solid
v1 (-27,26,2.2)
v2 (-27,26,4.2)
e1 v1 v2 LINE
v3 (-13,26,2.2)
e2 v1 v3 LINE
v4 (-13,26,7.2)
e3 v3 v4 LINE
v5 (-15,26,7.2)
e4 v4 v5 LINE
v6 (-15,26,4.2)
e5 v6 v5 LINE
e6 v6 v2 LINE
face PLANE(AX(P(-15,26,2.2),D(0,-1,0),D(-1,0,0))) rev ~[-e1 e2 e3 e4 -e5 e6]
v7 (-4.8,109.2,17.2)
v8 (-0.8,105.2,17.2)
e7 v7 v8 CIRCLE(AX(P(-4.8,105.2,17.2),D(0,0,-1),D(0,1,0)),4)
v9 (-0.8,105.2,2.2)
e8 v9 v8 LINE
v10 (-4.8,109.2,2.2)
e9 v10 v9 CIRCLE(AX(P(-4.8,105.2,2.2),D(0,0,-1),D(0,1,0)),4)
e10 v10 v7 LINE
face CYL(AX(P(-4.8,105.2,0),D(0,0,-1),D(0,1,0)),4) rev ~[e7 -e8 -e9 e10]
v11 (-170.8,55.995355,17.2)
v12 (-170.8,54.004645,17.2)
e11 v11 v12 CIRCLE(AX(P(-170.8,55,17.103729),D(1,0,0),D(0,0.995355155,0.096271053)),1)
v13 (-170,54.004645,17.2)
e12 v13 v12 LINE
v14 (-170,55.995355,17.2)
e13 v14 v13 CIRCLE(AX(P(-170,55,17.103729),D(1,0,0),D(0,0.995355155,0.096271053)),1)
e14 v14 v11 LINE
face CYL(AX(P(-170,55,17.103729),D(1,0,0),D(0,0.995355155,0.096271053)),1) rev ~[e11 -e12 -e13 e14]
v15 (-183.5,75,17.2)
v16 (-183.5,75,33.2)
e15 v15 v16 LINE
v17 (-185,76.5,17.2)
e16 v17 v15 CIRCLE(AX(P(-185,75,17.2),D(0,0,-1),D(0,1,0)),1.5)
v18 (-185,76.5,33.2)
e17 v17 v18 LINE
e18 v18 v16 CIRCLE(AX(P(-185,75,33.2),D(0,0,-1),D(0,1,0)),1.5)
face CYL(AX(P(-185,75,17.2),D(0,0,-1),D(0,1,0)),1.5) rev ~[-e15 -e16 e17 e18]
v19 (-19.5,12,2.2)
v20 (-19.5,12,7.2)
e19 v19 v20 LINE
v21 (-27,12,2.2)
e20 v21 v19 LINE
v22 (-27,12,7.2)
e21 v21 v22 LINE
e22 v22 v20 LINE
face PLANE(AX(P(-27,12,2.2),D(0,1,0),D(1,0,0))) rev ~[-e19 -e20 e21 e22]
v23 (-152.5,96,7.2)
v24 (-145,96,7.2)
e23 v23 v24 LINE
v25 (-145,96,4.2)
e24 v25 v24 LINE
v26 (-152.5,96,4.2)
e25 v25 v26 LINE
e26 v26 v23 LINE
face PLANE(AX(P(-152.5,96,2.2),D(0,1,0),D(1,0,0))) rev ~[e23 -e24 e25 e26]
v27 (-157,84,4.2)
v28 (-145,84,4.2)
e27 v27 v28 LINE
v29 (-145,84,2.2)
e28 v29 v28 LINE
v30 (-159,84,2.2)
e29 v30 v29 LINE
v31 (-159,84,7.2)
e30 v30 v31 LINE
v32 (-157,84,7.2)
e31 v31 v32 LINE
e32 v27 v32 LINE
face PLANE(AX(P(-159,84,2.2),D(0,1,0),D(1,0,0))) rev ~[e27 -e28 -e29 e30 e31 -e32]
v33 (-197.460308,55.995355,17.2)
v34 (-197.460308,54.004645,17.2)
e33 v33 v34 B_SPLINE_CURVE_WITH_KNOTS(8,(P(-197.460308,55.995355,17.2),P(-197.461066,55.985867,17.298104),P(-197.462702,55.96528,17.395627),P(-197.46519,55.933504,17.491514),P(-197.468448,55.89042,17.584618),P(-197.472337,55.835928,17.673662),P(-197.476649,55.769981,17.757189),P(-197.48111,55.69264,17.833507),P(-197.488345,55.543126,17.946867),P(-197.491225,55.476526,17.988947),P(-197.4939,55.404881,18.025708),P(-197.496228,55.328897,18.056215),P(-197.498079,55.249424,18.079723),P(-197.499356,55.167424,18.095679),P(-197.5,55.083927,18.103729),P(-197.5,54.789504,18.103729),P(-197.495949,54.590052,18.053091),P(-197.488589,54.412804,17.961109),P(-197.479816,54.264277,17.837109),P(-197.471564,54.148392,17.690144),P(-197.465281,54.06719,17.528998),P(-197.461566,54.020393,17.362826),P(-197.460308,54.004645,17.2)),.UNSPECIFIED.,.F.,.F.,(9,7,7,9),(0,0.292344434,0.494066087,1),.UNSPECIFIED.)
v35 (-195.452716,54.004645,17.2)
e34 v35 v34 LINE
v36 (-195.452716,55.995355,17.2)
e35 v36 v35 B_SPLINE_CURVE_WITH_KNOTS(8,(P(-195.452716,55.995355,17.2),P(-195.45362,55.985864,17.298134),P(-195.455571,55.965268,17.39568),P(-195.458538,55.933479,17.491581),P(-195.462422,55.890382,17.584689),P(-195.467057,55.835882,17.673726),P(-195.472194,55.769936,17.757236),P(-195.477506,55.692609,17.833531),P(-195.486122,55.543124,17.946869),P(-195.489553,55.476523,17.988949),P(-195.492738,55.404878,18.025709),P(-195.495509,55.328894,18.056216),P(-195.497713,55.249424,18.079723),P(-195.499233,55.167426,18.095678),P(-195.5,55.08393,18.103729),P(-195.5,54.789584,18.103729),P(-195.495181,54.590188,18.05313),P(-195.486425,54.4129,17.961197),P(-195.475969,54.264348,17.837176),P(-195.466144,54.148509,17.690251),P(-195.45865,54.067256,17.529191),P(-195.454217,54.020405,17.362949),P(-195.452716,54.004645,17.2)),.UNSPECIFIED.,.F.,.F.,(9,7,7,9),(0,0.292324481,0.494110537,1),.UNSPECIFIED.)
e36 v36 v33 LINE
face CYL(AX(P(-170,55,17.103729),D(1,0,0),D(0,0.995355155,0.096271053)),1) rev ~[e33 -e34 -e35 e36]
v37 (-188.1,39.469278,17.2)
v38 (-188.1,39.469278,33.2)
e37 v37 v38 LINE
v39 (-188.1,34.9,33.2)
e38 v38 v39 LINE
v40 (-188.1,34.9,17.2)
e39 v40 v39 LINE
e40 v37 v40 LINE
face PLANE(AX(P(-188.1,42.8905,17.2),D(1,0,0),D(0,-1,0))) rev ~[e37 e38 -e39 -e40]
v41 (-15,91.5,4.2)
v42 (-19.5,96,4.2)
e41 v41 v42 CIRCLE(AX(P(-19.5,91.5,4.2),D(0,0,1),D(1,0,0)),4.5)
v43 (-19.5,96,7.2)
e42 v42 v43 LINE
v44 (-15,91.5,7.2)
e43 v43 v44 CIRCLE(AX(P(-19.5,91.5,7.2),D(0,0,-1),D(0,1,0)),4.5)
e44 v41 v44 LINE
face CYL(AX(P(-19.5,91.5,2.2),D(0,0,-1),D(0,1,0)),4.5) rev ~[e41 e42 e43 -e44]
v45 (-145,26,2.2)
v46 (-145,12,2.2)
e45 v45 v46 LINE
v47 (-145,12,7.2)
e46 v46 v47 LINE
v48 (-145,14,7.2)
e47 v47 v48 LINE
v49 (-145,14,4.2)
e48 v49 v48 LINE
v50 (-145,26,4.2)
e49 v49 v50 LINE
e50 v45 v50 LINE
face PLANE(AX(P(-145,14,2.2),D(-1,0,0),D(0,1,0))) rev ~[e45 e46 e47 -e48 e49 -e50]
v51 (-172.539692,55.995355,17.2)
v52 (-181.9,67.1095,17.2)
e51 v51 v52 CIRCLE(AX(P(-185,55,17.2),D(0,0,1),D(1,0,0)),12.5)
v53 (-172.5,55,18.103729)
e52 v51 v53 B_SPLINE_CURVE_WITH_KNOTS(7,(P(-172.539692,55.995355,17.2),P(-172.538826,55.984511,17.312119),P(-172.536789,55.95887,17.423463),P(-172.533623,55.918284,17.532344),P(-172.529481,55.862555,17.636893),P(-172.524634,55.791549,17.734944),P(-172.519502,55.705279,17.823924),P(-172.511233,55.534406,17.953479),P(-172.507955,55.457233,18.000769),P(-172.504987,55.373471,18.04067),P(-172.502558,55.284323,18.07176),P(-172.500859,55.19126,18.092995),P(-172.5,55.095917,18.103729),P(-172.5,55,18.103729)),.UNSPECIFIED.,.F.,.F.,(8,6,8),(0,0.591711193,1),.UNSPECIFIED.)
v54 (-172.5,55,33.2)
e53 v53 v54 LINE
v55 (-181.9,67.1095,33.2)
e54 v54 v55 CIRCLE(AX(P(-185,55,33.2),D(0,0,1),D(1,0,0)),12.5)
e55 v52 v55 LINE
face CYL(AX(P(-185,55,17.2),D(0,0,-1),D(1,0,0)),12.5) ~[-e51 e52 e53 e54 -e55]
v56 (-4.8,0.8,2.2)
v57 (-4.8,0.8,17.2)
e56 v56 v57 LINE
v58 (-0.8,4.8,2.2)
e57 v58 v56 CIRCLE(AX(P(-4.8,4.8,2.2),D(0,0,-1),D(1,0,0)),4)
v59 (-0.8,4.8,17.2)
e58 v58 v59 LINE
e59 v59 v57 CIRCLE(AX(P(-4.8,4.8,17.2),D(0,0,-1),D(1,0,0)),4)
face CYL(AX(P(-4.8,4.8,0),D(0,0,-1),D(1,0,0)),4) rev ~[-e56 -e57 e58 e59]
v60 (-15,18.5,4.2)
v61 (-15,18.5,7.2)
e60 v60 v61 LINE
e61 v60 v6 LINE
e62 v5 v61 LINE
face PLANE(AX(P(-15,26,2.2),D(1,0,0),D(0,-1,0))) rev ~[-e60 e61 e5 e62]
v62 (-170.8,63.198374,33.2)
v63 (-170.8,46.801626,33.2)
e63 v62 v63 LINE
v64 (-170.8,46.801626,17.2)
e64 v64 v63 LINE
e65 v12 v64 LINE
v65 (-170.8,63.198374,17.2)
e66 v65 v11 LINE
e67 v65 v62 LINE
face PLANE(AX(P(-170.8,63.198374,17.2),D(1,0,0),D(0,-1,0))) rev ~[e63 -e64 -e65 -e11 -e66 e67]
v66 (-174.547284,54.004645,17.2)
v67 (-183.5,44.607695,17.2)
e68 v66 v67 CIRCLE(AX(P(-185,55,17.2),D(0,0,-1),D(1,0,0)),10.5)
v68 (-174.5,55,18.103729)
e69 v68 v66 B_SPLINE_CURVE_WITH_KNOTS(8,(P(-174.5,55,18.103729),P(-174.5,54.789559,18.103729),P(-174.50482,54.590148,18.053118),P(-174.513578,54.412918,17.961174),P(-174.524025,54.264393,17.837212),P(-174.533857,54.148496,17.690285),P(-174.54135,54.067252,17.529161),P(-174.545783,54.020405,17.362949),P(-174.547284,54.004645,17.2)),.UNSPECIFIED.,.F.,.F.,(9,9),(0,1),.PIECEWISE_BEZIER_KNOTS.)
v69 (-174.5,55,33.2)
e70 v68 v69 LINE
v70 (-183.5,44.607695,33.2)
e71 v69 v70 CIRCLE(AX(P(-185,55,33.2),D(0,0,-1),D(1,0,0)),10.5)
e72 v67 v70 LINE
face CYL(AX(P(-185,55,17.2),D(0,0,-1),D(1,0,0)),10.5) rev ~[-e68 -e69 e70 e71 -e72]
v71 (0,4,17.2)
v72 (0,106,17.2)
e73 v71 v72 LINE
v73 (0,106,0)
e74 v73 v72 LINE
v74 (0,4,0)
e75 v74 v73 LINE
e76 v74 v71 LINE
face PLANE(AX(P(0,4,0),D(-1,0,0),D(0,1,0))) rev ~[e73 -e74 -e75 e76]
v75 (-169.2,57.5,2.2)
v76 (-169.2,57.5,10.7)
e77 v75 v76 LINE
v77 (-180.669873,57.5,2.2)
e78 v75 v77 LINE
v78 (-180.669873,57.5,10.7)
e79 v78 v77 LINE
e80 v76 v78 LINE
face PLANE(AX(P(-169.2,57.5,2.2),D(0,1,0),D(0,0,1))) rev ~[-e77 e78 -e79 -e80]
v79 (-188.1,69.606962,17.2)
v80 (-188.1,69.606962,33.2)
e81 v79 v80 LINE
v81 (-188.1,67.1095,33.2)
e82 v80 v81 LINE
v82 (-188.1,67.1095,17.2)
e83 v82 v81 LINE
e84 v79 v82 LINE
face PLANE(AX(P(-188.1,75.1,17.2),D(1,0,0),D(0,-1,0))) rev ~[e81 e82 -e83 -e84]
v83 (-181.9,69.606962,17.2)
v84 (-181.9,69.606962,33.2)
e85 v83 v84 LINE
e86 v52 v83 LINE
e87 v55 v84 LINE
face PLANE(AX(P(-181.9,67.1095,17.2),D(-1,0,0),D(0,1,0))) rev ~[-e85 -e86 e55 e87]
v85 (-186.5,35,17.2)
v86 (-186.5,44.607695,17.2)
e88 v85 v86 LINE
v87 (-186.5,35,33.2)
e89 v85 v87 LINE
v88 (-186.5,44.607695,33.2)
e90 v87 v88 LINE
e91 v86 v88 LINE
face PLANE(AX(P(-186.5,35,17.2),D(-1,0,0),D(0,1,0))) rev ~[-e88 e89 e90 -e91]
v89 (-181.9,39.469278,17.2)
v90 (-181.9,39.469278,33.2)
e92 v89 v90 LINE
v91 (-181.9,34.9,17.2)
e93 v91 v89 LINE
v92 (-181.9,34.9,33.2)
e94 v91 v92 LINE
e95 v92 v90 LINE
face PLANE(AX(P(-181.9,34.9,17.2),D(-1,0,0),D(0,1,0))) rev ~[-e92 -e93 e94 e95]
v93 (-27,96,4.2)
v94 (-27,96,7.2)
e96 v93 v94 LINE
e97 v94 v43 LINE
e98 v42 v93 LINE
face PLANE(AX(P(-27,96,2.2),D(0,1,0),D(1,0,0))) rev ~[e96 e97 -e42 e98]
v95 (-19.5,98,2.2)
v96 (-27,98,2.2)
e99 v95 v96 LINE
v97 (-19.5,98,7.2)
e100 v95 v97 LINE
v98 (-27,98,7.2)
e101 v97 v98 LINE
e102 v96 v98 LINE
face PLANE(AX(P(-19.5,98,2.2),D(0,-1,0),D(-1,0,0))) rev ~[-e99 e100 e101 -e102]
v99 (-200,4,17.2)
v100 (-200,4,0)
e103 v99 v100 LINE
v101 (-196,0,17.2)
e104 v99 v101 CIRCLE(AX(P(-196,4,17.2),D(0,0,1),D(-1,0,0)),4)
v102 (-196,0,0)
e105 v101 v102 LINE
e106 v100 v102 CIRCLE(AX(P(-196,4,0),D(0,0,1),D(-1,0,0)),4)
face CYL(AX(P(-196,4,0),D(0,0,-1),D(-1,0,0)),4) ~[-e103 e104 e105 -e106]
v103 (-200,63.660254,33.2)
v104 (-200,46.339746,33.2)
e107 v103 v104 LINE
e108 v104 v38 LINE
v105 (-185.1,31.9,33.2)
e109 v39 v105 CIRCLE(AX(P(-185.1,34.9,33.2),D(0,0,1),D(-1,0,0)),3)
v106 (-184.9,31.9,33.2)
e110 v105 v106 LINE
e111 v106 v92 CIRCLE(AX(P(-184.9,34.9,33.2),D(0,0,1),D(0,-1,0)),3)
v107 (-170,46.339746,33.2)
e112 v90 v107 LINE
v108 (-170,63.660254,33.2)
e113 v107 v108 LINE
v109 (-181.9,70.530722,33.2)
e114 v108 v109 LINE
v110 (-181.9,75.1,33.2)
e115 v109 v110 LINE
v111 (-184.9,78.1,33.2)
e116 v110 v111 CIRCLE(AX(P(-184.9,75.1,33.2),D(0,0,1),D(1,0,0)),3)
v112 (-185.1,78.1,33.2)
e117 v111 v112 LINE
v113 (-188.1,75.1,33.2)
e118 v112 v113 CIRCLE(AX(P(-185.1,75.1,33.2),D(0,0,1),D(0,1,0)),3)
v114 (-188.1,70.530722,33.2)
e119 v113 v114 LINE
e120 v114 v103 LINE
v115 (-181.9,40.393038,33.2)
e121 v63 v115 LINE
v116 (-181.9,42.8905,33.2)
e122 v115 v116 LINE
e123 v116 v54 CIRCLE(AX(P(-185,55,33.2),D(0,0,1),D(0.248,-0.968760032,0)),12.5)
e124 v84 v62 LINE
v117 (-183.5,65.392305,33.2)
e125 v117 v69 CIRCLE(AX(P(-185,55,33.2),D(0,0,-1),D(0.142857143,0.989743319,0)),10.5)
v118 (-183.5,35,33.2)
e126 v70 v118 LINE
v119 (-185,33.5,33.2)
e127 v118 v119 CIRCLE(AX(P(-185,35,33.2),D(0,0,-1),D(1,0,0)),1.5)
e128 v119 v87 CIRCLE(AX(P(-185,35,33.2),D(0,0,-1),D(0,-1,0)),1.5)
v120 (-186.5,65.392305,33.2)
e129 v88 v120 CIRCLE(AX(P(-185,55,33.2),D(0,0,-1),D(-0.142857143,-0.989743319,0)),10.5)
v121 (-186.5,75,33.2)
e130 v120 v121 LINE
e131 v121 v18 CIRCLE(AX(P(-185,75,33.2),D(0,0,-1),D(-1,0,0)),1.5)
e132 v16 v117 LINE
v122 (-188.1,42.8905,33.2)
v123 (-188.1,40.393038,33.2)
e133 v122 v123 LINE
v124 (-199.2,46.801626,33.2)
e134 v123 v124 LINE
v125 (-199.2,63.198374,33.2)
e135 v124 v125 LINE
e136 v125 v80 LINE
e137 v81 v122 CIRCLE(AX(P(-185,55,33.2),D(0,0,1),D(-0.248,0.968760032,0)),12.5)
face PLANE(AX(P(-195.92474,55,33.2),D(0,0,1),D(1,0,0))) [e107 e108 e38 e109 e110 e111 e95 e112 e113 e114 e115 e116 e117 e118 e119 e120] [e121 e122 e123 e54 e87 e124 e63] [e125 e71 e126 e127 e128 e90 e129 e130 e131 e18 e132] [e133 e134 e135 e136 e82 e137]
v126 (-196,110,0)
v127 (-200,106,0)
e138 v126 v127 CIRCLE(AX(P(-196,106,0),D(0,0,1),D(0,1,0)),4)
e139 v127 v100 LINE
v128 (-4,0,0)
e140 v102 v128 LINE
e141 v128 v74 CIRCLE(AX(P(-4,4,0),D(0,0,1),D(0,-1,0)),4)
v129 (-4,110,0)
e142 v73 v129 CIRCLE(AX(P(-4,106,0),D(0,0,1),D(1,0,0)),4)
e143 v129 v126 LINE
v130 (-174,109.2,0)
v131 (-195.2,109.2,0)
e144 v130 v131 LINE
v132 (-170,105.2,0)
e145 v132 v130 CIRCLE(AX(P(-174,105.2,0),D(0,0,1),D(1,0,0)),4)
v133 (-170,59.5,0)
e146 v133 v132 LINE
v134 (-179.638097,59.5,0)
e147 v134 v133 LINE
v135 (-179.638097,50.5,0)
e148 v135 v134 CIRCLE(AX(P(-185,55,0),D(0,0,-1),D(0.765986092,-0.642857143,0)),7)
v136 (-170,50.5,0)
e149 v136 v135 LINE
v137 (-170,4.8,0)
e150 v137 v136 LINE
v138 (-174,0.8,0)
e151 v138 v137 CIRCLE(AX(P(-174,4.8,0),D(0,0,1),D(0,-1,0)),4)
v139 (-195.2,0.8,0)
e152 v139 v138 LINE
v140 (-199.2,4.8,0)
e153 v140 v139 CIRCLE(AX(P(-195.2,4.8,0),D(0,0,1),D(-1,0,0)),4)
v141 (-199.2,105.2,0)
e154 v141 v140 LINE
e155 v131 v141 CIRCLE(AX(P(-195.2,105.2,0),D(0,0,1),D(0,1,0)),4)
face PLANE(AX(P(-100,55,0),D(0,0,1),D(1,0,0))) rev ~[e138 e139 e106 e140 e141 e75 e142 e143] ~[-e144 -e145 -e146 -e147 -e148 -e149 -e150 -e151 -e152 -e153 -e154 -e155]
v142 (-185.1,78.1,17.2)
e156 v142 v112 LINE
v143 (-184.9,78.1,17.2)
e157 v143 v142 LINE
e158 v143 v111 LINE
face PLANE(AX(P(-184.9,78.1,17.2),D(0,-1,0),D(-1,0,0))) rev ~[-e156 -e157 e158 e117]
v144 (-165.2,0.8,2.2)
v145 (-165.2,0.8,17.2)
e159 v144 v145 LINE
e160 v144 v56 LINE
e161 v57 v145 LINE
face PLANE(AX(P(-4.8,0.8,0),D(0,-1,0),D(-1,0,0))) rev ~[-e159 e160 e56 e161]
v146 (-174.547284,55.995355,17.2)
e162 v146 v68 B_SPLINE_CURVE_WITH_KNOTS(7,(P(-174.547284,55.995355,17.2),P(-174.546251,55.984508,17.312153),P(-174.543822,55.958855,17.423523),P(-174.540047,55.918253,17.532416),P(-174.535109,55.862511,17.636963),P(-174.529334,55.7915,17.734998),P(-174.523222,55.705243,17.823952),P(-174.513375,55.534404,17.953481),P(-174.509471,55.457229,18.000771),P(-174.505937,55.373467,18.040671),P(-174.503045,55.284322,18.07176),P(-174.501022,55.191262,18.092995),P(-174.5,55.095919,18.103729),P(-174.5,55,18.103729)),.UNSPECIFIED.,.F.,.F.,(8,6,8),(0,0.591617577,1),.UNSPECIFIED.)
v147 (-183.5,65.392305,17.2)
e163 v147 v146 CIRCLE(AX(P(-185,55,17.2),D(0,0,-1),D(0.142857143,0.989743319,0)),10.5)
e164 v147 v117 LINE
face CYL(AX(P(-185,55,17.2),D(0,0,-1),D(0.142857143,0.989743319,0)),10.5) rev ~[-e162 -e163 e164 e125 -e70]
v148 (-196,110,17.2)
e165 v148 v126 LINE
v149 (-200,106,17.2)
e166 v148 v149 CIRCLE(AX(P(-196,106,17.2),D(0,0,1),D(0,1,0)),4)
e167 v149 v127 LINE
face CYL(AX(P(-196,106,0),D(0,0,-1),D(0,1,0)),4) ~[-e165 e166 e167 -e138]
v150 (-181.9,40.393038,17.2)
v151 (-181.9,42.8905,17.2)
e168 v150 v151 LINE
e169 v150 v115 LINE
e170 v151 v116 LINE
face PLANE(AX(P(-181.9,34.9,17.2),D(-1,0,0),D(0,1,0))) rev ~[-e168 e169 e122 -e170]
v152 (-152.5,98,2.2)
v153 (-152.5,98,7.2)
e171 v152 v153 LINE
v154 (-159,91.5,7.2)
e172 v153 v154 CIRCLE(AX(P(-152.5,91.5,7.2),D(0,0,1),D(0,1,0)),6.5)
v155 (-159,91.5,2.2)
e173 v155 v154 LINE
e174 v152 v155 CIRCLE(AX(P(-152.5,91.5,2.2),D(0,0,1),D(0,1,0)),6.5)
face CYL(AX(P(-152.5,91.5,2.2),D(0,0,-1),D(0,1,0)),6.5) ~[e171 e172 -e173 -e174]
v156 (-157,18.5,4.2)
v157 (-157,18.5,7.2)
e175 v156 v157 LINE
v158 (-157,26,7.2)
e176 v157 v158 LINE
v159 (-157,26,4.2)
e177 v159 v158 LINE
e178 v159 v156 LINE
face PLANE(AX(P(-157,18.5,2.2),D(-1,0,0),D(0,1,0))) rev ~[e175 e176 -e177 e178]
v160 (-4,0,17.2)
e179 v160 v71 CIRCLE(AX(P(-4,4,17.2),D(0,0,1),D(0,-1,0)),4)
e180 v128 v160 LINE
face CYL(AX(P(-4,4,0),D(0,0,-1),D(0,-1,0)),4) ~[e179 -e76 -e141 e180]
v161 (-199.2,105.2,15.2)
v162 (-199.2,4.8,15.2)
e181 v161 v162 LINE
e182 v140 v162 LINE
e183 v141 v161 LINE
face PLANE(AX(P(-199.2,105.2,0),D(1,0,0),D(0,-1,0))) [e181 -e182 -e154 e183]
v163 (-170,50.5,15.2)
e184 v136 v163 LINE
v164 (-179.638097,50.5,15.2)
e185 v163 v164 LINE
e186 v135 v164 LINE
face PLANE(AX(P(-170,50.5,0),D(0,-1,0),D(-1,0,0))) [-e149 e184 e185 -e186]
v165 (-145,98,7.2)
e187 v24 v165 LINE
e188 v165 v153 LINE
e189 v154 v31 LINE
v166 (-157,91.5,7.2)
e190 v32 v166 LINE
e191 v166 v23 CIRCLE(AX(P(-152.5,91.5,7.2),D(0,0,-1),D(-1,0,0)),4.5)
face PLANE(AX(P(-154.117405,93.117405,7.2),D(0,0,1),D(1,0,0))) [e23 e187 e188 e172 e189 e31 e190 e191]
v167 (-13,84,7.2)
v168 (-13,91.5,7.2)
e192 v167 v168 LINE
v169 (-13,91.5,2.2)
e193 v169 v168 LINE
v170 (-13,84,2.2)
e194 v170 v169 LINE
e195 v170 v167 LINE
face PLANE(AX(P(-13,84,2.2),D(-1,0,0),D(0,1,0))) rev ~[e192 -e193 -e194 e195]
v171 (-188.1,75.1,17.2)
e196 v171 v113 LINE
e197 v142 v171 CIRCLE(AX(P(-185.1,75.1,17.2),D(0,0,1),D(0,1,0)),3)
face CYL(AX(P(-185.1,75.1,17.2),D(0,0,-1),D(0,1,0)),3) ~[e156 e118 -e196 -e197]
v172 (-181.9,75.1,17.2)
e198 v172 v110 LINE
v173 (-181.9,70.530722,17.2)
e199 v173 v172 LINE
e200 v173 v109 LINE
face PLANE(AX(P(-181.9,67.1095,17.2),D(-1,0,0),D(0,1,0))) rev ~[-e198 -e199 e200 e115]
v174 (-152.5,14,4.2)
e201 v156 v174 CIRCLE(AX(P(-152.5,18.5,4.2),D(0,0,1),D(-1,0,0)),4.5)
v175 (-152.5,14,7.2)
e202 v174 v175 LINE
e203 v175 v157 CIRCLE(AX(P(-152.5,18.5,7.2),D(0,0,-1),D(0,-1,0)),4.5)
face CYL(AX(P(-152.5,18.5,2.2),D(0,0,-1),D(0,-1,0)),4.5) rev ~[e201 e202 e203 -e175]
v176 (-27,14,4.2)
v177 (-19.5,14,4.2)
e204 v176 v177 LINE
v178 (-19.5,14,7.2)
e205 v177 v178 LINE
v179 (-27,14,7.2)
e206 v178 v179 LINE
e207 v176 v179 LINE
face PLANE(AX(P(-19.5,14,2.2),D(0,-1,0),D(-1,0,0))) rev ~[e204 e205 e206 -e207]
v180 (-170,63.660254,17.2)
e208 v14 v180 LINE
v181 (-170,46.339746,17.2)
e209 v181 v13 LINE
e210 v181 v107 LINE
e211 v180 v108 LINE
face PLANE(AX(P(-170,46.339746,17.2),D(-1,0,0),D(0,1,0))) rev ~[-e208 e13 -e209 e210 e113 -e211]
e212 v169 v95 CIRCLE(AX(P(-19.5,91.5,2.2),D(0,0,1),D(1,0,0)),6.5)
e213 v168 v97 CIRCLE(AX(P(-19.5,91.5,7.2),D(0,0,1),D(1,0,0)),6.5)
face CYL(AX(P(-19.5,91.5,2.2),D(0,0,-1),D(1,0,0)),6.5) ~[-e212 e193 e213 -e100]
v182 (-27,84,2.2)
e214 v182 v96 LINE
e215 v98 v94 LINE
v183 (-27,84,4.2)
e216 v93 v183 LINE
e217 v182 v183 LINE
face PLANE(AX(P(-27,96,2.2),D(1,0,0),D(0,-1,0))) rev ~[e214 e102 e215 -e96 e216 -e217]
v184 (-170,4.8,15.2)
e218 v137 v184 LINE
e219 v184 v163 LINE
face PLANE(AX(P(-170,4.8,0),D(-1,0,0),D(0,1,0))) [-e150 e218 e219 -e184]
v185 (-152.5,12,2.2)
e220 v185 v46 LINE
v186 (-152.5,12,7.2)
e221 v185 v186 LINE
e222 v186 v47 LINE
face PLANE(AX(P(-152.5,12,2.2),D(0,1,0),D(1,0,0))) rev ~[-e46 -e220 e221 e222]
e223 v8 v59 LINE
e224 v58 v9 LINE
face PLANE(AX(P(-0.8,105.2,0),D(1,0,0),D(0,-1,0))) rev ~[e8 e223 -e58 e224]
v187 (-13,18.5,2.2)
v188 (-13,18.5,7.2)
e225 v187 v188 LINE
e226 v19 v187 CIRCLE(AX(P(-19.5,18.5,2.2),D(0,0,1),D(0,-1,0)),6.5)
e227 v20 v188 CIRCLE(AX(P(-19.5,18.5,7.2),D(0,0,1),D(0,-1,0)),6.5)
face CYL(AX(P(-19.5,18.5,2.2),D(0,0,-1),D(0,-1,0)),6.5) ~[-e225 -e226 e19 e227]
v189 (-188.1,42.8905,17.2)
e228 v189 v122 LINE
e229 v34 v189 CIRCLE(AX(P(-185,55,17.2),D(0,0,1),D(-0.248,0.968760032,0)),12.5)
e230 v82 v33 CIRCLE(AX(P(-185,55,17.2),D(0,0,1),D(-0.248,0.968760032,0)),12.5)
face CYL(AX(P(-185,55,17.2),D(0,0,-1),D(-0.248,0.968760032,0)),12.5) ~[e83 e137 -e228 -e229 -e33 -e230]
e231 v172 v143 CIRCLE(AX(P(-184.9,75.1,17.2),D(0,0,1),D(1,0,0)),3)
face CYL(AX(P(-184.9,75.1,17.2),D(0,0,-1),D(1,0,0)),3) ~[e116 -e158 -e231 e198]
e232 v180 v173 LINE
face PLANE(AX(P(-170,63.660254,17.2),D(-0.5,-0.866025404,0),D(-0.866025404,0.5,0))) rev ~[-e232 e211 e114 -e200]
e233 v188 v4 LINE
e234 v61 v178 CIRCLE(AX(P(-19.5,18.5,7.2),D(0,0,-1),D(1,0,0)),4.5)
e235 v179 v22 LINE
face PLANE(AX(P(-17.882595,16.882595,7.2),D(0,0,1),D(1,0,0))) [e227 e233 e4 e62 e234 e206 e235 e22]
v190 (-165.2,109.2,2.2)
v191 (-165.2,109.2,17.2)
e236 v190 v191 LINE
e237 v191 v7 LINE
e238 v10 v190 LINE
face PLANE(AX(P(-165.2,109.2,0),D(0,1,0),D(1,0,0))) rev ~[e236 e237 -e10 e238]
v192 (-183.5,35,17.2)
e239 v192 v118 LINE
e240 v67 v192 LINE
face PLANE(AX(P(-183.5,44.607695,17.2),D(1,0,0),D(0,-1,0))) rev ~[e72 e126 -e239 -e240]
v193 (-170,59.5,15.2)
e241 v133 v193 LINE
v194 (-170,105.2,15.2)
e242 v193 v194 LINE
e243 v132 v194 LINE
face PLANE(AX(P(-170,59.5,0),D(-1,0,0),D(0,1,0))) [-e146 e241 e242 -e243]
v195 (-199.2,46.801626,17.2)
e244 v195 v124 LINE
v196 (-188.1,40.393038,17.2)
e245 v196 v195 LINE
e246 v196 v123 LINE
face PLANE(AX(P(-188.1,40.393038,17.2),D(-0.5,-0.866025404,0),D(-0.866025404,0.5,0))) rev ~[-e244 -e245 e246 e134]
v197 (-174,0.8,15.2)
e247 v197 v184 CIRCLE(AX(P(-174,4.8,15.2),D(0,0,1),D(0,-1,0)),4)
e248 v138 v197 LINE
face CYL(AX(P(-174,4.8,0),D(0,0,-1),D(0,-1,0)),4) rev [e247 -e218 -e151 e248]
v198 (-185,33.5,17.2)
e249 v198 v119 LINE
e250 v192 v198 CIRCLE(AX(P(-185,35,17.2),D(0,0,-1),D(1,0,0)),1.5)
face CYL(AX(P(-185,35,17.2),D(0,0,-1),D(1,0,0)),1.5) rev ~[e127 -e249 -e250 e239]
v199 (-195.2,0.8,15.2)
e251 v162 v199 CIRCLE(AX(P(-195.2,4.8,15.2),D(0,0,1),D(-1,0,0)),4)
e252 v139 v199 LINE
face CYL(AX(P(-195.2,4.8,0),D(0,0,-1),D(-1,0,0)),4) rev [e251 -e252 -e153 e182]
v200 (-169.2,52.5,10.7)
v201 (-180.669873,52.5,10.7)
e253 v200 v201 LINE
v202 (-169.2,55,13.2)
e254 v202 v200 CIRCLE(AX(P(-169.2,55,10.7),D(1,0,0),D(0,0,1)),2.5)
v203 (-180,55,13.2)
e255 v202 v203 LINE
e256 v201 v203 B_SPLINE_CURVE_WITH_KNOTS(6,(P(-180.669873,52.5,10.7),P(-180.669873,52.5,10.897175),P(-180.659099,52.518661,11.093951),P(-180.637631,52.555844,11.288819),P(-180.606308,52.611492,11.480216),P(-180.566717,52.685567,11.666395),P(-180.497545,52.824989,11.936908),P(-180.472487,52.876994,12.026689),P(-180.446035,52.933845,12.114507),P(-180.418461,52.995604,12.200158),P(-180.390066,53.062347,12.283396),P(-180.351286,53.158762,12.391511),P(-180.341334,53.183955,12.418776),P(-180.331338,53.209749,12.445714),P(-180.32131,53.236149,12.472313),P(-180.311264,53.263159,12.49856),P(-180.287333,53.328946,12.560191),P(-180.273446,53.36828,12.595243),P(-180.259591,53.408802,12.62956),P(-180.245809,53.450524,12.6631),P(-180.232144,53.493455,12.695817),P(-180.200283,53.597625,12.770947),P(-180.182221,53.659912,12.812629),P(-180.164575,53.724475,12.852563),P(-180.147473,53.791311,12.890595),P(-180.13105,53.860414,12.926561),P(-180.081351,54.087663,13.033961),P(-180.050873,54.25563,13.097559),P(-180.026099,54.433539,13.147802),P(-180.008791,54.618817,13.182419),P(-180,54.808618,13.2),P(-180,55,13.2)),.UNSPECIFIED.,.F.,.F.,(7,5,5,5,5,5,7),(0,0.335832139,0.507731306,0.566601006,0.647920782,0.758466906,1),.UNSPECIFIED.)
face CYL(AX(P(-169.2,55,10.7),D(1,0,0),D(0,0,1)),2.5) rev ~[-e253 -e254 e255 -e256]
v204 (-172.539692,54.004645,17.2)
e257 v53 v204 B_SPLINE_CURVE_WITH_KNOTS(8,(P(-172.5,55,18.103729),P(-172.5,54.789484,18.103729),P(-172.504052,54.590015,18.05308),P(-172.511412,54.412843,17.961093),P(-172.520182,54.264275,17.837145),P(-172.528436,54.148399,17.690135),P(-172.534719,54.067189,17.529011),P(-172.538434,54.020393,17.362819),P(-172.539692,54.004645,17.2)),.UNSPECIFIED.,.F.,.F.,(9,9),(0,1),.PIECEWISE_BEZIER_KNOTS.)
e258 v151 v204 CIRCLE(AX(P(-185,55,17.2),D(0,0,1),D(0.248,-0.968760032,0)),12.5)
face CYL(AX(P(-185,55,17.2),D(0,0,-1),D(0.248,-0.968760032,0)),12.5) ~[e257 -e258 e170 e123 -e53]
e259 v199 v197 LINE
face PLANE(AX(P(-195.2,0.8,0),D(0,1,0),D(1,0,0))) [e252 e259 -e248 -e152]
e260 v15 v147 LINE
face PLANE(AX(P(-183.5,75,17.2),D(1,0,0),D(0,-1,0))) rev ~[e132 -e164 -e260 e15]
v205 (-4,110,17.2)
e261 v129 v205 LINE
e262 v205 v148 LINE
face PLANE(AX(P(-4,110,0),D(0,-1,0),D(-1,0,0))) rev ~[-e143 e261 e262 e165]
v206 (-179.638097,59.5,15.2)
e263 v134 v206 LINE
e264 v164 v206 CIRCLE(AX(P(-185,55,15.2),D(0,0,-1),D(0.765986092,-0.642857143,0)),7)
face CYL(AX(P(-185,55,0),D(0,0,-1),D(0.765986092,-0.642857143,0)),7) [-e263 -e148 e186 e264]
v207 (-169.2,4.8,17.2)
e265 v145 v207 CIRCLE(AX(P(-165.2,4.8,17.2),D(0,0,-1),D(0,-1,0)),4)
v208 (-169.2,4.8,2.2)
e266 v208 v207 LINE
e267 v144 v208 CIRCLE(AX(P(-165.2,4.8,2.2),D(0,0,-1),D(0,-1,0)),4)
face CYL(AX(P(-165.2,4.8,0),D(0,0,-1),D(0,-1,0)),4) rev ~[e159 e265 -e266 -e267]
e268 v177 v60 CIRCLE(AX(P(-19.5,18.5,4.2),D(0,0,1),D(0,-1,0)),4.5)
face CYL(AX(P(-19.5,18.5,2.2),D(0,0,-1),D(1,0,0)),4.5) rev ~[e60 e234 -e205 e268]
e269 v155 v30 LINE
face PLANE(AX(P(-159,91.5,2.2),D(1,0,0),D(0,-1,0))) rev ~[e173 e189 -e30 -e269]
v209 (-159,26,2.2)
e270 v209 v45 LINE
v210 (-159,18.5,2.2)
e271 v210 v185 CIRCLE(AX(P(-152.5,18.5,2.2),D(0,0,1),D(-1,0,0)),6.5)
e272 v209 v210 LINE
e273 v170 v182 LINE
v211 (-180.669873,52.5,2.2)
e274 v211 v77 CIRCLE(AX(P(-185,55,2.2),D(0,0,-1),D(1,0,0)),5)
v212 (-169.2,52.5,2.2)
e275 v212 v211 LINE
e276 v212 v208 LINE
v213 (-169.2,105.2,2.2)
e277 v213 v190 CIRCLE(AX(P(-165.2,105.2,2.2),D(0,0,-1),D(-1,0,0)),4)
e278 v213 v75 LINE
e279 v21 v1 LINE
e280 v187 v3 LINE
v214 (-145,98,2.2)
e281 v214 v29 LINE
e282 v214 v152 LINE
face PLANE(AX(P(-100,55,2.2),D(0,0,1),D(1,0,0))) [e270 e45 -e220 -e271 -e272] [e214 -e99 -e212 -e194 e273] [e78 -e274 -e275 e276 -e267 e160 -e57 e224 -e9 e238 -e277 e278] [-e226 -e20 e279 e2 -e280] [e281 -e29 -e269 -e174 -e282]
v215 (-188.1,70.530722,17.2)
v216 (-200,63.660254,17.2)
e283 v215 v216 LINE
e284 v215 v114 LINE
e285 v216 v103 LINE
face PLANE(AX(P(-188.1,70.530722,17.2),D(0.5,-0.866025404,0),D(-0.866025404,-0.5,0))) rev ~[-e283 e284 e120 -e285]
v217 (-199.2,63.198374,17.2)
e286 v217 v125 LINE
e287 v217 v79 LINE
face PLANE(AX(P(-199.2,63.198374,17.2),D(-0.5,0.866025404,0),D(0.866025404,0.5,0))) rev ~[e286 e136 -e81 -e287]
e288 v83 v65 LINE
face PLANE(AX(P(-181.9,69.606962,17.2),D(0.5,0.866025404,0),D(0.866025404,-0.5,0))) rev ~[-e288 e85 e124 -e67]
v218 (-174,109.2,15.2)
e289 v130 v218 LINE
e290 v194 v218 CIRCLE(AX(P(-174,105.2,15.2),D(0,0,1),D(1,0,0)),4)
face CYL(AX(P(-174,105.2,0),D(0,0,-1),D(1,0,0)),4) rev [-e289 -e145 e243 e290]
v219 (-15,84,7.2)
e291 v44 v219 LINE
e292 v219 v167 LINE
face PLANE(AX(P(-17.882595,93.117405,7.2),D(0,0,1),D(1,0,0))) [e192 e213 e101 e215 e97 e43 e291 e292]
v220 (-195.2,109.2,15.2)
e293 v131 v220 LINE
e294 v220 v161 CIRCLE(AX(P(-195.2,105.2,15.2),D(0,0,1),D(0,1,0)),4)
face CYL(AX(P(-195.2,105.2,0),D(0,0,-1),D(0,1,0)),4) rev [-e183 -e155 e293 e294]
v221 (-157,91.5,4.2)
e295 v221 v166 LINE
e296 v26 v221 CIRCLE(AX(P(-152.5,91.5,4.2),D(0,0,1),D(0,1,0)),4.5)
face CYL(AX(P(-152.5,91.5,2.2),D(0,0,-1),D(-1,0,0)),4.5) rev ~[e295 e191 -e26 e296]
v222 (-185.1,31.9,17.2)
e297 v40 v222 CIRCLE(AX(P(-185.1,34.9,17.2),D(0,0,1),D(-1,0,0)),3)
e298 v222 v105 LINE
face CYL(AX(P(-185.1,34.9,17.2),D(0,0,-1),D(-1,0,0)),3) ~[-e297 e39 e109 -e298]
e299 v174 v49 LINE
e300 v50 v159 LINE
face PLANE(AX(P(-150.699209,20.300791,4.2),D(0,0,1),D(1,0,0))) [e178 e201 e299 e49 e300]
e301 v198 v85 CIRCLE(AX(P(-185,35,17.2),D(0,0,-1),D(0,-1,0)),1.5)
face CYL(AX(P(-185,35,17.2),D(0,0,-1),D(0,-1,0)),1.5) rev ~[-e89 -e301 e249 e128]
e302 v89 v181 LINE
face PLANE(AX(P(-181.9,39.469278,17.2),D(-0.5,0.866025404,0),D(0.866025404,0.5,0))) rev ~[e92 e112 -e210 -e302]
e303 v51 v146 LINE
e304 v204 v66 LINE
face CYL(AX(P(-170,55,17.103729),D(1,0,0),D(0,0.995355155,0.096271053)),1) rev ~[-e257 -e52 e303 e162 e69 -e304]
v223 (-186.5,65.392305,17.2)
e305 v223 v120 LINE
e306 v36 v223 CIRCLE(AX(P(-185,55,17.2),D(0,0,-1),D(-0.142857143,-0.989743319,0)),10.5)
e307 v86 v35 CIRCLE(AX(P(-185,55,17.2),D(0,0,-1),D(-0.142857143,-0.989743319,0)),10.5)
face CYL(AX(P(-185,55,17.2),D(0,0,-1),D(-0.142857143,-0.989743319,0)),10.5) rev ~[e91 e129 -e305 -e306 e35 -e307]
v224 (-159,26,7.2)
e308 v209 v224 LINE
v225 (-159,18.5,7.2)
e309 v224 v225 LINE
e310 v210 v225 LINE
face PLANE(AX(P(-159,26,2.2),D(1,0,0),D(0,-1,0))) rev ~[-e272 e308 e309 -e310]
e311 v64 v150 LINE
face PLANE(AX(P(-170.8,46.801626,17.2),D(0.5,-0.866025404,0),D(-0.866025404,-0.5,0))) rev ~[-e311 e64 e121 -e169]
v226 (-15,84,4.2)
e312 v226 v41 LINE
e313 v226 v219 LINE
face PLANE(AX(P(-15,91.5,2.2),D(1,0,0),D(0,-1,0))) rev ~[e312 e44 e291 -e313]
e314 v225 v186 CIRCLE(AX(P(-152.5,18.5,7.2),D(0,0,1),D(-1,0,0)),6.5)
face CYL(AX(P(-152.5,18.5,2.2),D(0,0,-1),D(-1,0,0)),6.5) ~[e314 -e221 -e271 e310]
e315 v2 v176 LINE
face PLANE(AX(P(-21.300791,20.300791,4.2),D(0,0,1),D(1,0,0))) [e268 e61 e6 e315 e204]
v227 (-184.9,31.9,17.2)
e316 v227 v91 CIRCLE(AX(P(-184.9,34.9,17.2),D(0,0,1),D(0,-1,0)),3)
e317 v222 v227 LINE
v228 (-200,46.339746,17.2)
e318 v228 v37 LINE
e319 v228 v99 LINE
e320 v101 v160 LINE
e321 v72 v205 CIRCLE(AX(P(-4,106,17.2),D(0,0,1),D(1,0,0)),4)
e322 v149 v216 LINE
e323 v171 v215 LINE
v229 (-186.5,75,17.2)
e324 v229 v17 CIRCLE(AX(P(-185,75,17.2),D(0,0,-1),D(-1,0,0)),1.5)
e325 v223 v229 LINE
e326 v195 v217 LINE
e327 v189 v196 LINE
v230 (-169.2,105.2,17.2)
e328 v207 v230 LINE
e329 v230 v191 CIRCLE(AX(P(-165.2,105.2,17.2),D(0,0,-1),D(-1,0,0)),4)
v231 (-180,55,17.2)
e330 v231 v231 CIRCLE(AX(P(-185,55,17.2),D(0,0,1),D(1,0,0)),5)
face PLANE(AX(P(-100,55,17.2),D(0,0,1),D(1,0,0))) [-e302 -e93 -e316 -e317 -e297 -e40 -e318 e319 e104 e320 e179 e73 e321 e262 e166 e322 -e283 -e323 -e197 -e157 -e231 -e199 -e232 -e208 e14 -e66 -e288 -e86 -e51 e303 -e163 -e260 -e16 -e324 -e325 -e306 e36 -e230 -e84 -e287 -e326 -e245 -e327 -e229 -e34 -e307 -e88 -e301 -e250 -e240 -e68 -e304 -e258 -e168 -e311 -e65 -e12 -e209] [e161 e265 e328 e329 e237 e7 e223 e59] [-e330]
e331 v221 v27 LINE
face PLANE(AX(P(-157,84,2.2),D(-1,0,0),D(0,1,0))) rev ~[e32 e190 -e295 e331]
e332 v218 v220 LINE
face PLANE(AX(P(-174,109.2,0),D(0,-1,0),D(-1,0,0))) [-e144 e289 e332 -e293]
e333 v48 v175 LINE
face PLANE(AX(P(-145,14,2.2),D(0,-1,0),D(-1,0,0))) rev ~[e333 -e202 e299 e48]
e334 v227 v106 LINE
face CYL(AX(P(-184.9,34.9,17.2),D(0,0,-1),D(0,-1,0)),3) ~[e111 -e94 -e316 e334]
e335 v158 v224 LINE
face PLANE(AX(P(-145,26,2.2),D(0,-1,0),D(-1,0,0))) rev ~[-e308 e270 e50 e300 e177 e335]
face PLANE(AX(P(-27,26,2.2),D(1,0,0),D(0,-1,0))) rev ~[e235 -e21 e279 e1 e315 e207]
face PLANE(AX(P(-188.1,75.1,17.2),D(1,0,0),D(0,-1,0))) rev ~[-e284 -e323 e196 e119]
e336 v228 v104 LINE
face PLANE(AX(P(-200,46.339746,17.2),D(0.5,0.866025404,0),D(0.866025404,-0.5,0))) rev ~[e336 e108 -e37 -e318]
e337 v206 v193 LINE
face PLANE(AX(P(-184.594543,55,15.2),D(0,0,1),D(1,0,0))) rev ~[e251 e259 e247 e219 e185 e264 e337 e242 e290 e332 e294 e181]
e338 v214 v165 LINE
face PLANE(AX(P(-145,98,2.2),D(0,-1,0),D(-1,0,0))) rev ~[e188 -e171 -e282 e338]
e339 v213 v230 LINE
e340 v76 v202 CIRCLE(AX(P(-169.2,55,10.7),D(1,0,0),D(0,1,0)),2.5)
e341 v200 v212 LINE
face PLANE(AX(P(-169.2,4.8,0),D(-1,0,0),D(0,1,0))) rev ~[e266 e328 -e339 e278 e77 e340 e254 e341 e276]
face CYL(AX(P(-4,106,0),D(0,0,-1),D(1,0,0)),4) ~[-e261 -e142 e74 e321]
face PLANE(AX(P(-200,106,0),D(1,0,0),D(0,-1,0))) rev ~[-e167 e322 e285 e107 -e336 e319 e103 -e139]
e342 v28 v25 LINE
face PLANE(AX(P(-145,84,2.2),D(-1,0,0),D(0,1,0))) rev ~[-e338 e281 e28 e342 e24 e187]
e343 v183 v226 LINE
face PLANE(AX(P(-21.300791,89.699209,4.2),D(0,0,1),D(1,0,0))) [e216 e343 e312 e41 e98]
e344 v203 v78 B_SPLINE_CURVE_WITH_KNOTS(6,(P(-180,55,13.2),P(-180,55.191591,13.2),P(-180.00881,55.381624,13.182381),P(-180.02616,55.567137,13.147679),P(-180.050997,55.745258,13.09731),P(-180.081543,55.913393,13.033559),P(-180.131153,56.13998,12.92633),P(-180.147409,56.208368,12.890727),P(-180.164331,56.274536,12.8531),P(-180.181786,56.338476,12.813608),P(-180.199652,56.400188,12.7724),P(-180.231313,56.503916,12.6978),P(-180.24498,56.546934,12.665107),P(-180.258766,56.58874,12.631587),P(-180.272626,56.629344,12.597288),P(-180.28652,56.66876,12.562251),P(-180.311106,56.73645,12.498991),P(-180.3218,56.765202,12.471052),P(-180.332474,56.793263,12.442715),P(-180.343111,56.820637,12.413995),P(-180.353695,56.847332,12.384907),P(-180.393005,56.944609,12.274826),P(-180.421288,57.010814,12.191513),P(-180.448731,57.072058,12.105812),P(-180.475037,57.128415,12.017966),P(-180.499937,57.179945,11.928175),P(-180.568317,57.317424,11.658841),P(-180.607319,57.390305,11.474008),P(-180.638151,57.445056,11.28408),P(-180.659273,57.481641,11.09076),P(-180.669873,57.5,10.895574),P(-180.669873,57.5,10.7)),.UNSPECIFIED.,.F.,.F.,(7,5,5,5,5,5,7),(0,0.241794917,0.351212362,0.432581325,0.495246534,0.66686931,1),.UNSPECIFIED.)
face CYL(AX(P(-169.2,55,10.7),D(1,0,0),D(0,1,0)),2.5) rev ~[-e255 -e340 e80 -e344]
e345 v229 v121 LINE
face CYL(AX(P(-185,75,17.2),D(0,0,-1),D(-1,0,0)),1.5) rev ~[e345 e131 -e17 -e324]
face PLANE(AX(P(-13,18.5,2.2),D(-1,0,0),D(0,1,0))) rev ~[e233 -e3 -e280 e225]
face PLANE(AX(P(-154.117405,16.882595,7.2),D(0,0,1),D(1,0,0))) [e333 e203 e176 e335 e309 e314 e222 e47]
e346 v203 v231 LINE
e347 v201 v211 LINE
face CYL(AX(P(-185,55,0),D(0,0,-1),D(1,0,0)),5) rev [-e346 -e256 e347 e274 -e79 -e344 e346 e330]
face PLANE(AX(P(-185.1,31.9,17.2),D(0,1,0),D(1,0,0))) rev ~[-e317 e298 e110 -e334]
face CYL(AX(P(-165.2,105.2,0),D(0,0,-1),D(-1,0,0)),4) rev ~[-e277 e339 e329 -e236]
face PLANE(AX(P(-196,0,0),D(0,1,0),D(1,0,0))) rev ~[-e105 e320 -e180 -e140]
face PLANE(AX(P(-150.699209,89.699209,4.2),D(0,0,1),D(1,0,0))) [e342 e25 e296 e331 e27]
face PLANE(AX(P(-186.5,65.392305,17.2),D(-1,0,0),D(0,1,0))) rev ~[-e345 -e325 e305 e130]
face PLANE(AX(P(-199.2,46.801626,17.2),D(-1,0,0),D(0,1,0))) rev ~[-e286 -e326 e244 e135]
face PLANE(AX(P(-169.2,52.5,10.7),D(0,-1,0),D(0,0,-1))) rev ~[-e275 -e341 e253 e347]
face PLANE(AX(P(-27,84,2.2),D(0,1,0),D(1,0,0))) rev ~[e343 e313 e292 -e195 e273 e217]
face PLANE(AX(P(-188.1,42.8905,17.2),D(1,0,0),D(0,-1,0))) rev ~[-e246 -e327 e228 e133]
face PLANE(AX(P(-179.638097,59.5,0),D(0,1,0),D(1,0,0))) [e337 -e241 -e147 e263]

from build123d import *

# Parameters (mm, degrees)
F0_R      = 5
F1_DEPTH  = 2.2
F2_DEPTH  = 17.2
F4_DEPTH  = 20
F5_DEPTH  = 15.2
F7_DEPTH  = 16
F9_DEPTH  = 2
F10_DEPTH = 5
F12_DEPTH = 16
F14_DEPTH = 28


with BuildPart() as f1:
    # F0 (on Top) → F1 (new body)
    with BuildSketch(Plane.XY):
        with BuildLine():
            Line((-196, 0), (-4, 0))
            ThreePointArc((-4, 0), (-1.1715728753, 1.1715728753), (0, 4))
            Line((0, 4), (0, 106))
            ThreePointArc((0, 106), (-1.1715728753, 108.8284271247), (-4, 110))
            Line((-4, 110), (-196, 110))
            ThreePointArc((-196, 110), (-198.8284271247, 108.8284271247), (-200, 106))
            Line((-200, 106), (-200, 4))
            ThreePointArc((-200, 4), (-198.8284271247, 1.1715728753), (-196, 0))
        make_face()
        with BuildLine():
            Line((-170, 105.2), (-170, 59.5))
            Line((-170, 59.5), (-170, 50.5))
            Line((-170, 50.5), (-170, 4.8))
            ThreePointArc((-170, 4.8), (-171.1715728753, 1.9715728753), (-174, 0.8))
            Line((-174, 0.8), (-195.2, 0.8))
            ThreePointArc((-195.2, 0.8), (-198.0284271247, 1.9715728753), (-199.2, 4.8))
            Line((-199.2, 4.8), (-199.2, 105.2))
            ThreePointArc((-199.2, 105.2), (-198.0284271247, 108.0284271247), (-195.2, 109.2))
            Line((-195.2, 109.2), (-174, 109.2))
            ThreePointArc((-174, 109.2), (-171.1715728753, 108.0284271247), (-170, 105.2))
        make_face(mode=Mode.SUBTRACT)
        with BuildLine():
            ThreePointArc((-4.8, 109.2), (-1.9715728753, 108.0284271247), (-0.8, 105.2))
            Line((-0.8, 105.2), (-0.8, 4.8))
            ThreePointArc((-0.8, 4.8), (-1.9715728753, 1.9715728753), (-4.8, 0.8))
            Line((-4.8, 0.8), (-165.2, 0.8))
            ThreePointArc((-165.2, 0.8), (-168.0284271247, 1.9715728753), (-169.2, 4.8))
            Line((-169.2, 4.8), (-169.2, 105.2))
            ThreePointArc((-169.2, 105.2), (-168.0284271247, 108.0284271247), (-165.2, 109.2))
            Line((-165.2, 109.2), (-4.8, 109.2))
        make_face(mode=Mode.SUBTRACT)
        with BuildLine():
            Line((-0.8, 4.8), (-0.8, 105.2))
            ThreePointArc((-0.8, 105.2), (-1.9715728753, 108.0284271247), (-4.8, 109.2))
            Line((-4.8, 109.2), (-165.2, 109.2))
            ThreePointArc((-165.2, 109.2), (-168.0284271247, 108.0284271247), (-169.2, 105.2))
            Line((-169.2, 105.2), (-169.2, 4.8))
            ThreePointArc((-169.2, 4.8), (-168.0284271247, 1.9715728753), (-165.2, 0.8))
            Line((-165.2, 0.8), (-4.8, 0.8))
            ThreePointArc((-4.8, 0.8), (-1.9715728753, 1.9715728753), (-0.8, 4.8))
        make_face()
        with BuildLine():
            ThreePointArc((-179.6380973526, 50.5), (-192, 55), (-179.6380973526, 59.5))
            Line((-179.6380973526, 59.5), (-170, 59.5))
            Line((-170, 59.5), (-170, 105.2))
            ThreePointArc((-170, 105.2), (-171.1715728753, 108.0284271247), (-174, 109.2))
            Line((-174, 109.2), (-195.2, 109.2))
            ThreePointArc((-195.2, 109.2), (-198.0284271247, 108.0284271247), (-199.2, 105.2))
            Line((-199.2, 105.2), (-199.2, 4.8))
            ThreePointArc((-199.2, 4.8), (-198.0284271247, 1.9715728753), (-195.2, 0.8))
            Line((-195.2, 0.8), (-174, 0.8))
            ThreePointArc((-174, 0.8), (-171.1715728753, 1.9715728753), (-170, 4.8))
            Line((-170, 4.8), (-170, 50.5))
            Line((-170, 50.5), (-179.6380973526, 50.5))
        make_face()
        with BuildLine():
            ThreePointArc((-179.6380973526, 50.5), (-178.4222603224, 52.6055604551), (-178, 55))
            ThreePointArc((-178, 55), (-178.4222603224, 57.3944395449), (-179.6380973526, 59.5))
            ThreePointArc((-179.6380973526, 59.5), (-192, 55), (-179.6380973526, 50.5))
        make_face()
        with Locations((-185, 55)):
            Circle(F0_R, mode=Mode.SUBTRACT)
        with Locations((-185, 55)):
            Circle(F0_R)
        with BuildLine():
            ThreePointArc((-179.6380973526, 59.5), (-178.4222603224, 57.3944395449), (-178, 55))
            ThreePointArc((-178, 55), (-178.4222603224, 52.6055604551), (-179.6380973526, 50.5))
            Line((-179.6380973526, 50.5), (-170, 50.5))
            Line((-170, 50.5), (-170, 59.5))
            Line((-170, 59.5), (-179.6380973526, 59.5))
        make_face()
    extrude(amount=F1_DEPTH)

    # F0 (on Top) → F2 (join)
    with BuildSketch(Plane.XY):
        with BuildLine():
            Line((-196, 0), (-4, 0))
            ThreePointArc((-4, 0), (-1.1715728753, 1.1715728753), (0, 4))
            Line((0, 4), (0, 106))
            ThreePointArc((0, 106), (-1.1715728753, 108.8284271247), (-4, 110))
            Line((-4, 110), (-196, 110))
            ThreePointArc((-196, 110), (-198.8284271247, 108.8284271247), (-200, 106))
            Line((-200, 106), (-200, 4))
            ThreePointArc((-200, 4), (-198.8284271247, 1.1715728753), (-196, 0))
        make_face()
        with BuildLine():
            Line((-170, 105.2), (-170, 59.5))
            Line((-170, 59.5), (-170, 50.5))
            Line((-170, 50.5), (-170, 4.8))
            ThreePointArc((-170, 4.8), (-171.1715728753, 1.9715728753), (-174, 0.8))
            Line((-174, 0.8), (-195.2, 0.8))
            ThreePointArc((-195.2, 0.8), (-198.0284271247, 1.9715728753), (-199.2, 4.8))
            Line((-199.2, 4.8), (-199.2, 105.2))
            ThreePointArc((-199.2, 105.2), (-198.0284271247, 108.0284271247), (-195.2, 109.2))
            Line((-195.2, 109.2), (-174, 109.2))
            ThreePointArc((-174, 109.2), (-171.1715728753, 108.0284271247), (-170, 105.2))
        make_face(mode=Mode.SUBTRACT)
        with BuildLine():
            ThreePointArc((-4.8, 109.2), (-1.9715728753, 108.0284271247), (-0.8, 105.2))
            Line((-0.8, 105.2), (-0.8, 4.8))
            ThreePointArc((-0.8, 4.8), (-1.9715728753, 1.9715728753), (-4.8, 0.8))
            Line((-4.8, 0.8), (-165.2, 0.8))
            ThreePointArc((-165.2, 0.8), (-168.0284271247, 1.9715728753), (-169.2, 4.8))
            Line((-169.2, 4.8), (-169.2, 105.2))
            ThreePointArc((-169.2, 105.2), (-168.0284271247, 108.0284271247), (-165.2, 109.2))
            Line((-165.2, 109.2), (-4.8, 109.2))
        make_face(mode=Mode.SUBTRACT)
        with BuildLine():
            ThreePointArc((-179.6380973526, 50.5), (-178.4222603224, 52.6055604551), (-178, 55))
            ThreePointArc((-178, 55), (-178.4222603224, 57.3944395449), (-179.6380973526, 59.5))
            ThreePointArc((-179.6380973526, 59.5), (-192, 55), (-179.6380973526, 50.5))
        make_face()
        with Locations((-185, 55)):
            Circle(F0_R, mode=Mode.SUBTRACT)
        with BuildLine():
            ThreePointArc((-179.6380973526, 50.5), (-192, 55), (-179.6380973526, 59.5))
            Line((-179.6380973526, 59.5), (-170, 59.5))
            Line((-170, 59.5), (-170, 105.2))
            ThreePointArc((-170, 105.2), (-171.1715728753, 108.0284271247), (-174, 109.2))
            Line((-174, 109.2), (-195.2, 109.2))
            ThreePointArc((-195.2, 109.2), (-198.0284271247, 108.0284271247), (-199.2, 105.2))
            Line((-199.2, 105.2), (-199.2, 4.8))
            ThreePointArc((-199.2, 4.8), (-198.0284271247, 1.9715728753), (-195.2, 0.8))
            Line((-195.2, 0.8), (-174, 0.8))
            ThreePointArc((-174, 0.8), (-171.1715728753, 1.9715728753), (-170, 4.8))
            Line((-170, 4.8), (-170, 50.5))
            Line((-170, 50.5), (-179.6380973526, 50.5))
        make_face()
        with BuildLine():
            ThreePointArc((-179.6380973526, 59.5), (-178.4222603224, 57.3944395449), (-178, 55))
            ThreePointArc((-178, 55), (-178.4222603224, 52.6055604551), (-179.6380973526, 50.5))
            Line((-179.6380973526, 50.5), (-170, 50.5))
            Line((-170, 50.5), (-170, 59.5))
            Line((-170, 59.5), (-179.6380973526, 59.5))
        make_face()
    extrude(amount=F2_DEPTH)

    # F3 (on face) → F4 (cut)
    with BuildSketch(Plane.YZ.offset(-169.2)):
        with BuildLine():
            Line((52.5, 2.2), (57.5, 2.2))
            Line((57.5, 2.2), (57.5, 10.7))
            ThreePointArc((57.5, 10.7), (56.767766953, 12.467766953), (55, 13.2))
            ThreePointArc((55, 13.2), (53.232233047, 12.467766953), (52.5, 10.7))
            Line((52.5, 10.7), (52.5, 2.2))
        make_face()
    extrude(amount=-F4_DEPTH, mode=Mode.SUBTRACT)

    # F0 (on Top) → F5 (cut)
    with BuildSketch(Plane.XY):
        with BuildLine():
            ThreePointArc((-179.6380973526, 50.5), (-192, 55), (-179.6380973526, 59.5))
            Line((-179.6380973526, 59.5), (-170, 59.5))
            Line((-170, 59.5), (-170, 105.2))
            ThreePointArc((-170, 105.2), (-171.1715728753, 108.0284271247), (-174, 109.2))
            Line((-174, 109.2), (-195.2, 109.2))
            ThreePointArc((-195.2, 109.2), (-198.0284271247, 108.0284271247), (-199.2, 105.2))
            Line((-199.2, 105.2), (-199.2, 4.8))
            ThreePointArc((-199.2, 4.8), (-198.0284271247, 1.9715728753), (-195.2, 0.8))
            Line((-195.2, 0.8), (-174, 0.8))
            ThreePointArc((-174, 0.8), (-171.1715728753, 1.9715728753), (-170, 4.8))
            Line((-170, 4.8), (-170, 50.5))
            Line((-170, 50.5), (-179.6380973526, 50.5))
        make_face()
    extrude(amount=F5_DEPTH, mode=Mode.SUBTRACT)

    # F6 (on face) → F7 (join)
    with BuildSketch(Plane.XY.offset(17.2)):
        with BuildLine():
            ThreePointArc((-186.5, 44.6076951546), (-195.5, 55), (-186.5, 65.3923048454))
            Line((-186.5, 65.3923048454), (-186.5, 67.409673646))
            ThreePointArc((-186.5, 67.409673646), (-187.3048917532, 67.2856613174), (-188.1, 67.1095004026))
            ThreePointArc((-188.1, 67.1095004026), (-197.5, 55), (-188.1, 42.8904995974))
            ThreePointArc((-188.1, 42.8904995974), (-187.3048917532, 42.7143386826), (-186.5, 42.590326354))
            Line((-186.5, 42.590326354), (-186.5, 44.6076951546))
        make_face()
        with BuildLine():
            Line((-183.5, 75), (-183.5, 67.409673646))
            ThreePointArc((-183.5, 67.409673646), (-182.6951082468, 67.2856613174), (-181.9, 67.1095004026))
            Line((-181.9, 67.1095004026), (-181.9, 75.1))
            ThreePointArc((-181.9, 75.1), (-182.7786796564, 77.2213203436), (-184.9, 78.1))
            Line((-184.9, 78.1), (-185.1, 78.1))
            ThreePointArc((-185.1, 78.1), (-187.2213203436, 77.2213203436), (-188.1, 75.1))
            Line((-188.1, 75.1), (-188.1, 67.1095004026))
            ThreePointArc((-188.1, 67.1095004026), (-187.3048917532, 67.2856613174), (-186.5, 67.409673646))
            Line((-186.5, 67.409673646), (-186.5, 75))
            ThreePointArc((-186.5, 75), (-186.0606601718, 76.0606601718), (-185, 76.5))
            ThreePointArc((-185, 76.5), (-183.9393398282, 76.0606601718), (-183.5, 75))
        make_face()
        with BuildLine():
            ThreePointArc((-183.5, 65.3923048454), (-177.0627460668, 61.8738635424), (-174.5, 55))
            ThreePointArc((-174.5, 55), (-177.0627460668, 48.1261364576), (-183.5, 44.6076951546))
            Line((-183.5, 44.6076951546), (-183.5, 42.590326354))
            ThreePointArc((-183.5, 42.590326354), (-182.6951082468, 42.7143386826), (-181.9, 42.8904995974))
            ThreePointArc((-181.9, 42.8904995974), (-175.1257911709, 47.3351451416), (-172.5, 55))
            ThreePointArc((-172.5, 55), (-175.1257911709, 62.6648548584), (-181.9, 67.1095004026))
            ThreePointArc((-181.9, 67.1095004026), (-182.6951082468, 67.2856613174), (-183.5, 67.409673646))
            Line((-183.5, 67.409673646), (-183.5, 65.3923048454))
        make_face()
        with BuildLine():
            ThreePointArc((-181.9, 42.8904995974), (-182.6951082468, 42.7143386826), (-183.5, 42.590326354))
            Line((-183.5, 42.590326354), (-183.5, 35))
            ThreePointArc((-183.5, 35), (-183.9393398282, 33.9393398282), (-185, 33.5))
            ThreePointArc((-185, 33.5), (-186.0606601718, 33.9393398282), (-186.5, 35))
            Line((-186.5, 35), (-186.5, 42.590326354))
            ThreePointArc((-186.5, 42.590326354), (-187.3048917532, 42.7143386826), (-188.1, 42.8904995974))
            Line((-188.1, 42.8904995974), (-188.1, 34.9))
            ThreePointArc((-188.1, 34.9), (-187.2213203436, 32.7786796564), (-185.1, 31.9))
            Line((-185.1, 31.9), (-184.9, 31.9))
            ThreePointArc((-184.9, 31.9), (-182.7786796564, 32.7786796564), (-181.9, 34.9))
            Line((-181.9, 34.9), (-181.9, 42.8904995974))
        make_face()
    extrude(amount=F7_DEPTH)

    # F8 (on face) → F9 (join)
    with BuildSketch(Plane.XY.offset(2.2)):
        with BuildLine():
            Line((-157, 84), (-145, 84))
            Line((-145, 84), (-145, 96))
            Line((-145, 96), (-152.5, 96))
            ThreePointArc((-152.5, 96), (-155.6819805153, 94.6819805153), (-157, 91.5))
            Line((-157, 91.5), (-157, 84))
        make_face()
        with BuildLine():
            Line((-19.5, 96), (-27, 96))
            Line((-27, 96), (-27, 84))
            Line((-27, 84), (-15, 84))
            Line((-15, 84), (-15, 91.5))
            ThreePointArc((-15, 91.5), (-16.3180194847, 94.6819805153), (-19.5, 96))
        make_face()
        with BuildLine():
            Line((-15, 26), (-27, 26))
            Line((-27, 26), (-27, 14))
            Line((-27, 14), (-19.5, 14))
            ThreePointArc((-19.5, 14), (-16.3180194847, 15.3180194847), (-15, 18.5))
            Line((-15, 18.5), (-15, 26))
        make_face()
        with BuildLine():
            Line((-145, 14), (-145, 26))
            Line((-145, 26), (-157, 26))
            Line((-157, 26), (-157, 18.5))
            ThreePointArc((-157, 18.5), (-155.6819805153, 15.3180194847), (-152.5, 14))
            Line((-152.5, 14), (-145, 14))
        make_face()
    extrude(amount=F9_DEPTH)

    # F8 (on face) → F10 (join)
    with BuildSketch(Plane.XY.offset(2.2)):
        with BuildLine():
            Line((-159, 84), (-157, 84))
            Line((-157, 84), (-157, 91.5))
            ThreePointArc((-157, 91.5), (-155.6819805153, 94.6819805153), (-152.5, 96))
            Line((-152.5, 96), (-145, 96))
            Line((-145, 96), (-145, 98))
            Line((-145, 98), (-152.5, 98))
            ThreePointArc((-152.5, 98), (-157.0961940777, 96.0961940777), (-159, 91.5))
            Line((-159, 91.5), (-159, 84))
        make_face()
        with BuildLine():
            Line((-157, 18.5), (-157, 26))
            Line((-157, 26), (-159, 26))
            Line((-159, 26), (-159, 18.5))
            ThreePointArc((-159, 18.5), (-157.0961940777, 13.9038059223), (-152.5, 12))
            Line((-152.5, 12), (-145, 12))
            Line((-145, 12), (-145, 14))
            Line((-145, 14), (-152.5, 14))
            ThreePointArc((-152.5, 14), (-155.6819805153, 15.3180194847), (-157, 18.5))
        make_face()
        with BuildLine():
            Line((-13, 26), (-15, 26))
            Line((-15, 26), (-15, 18.5))
            ThreePointArc((-15, 18.5), (-16.3180194847, 15.3180194847), (-19.5, 14))
            Line((-19.5, 14), (-27, 14))
            Line((-27, 14), (-27, 12))
            Line((-27, 12), (-19.5, 12))
            ThreePointArc((-19.5, 12), (-14.9038059223, 13.9038059223), (-13, 18.5))
            Line((-13, 18.5), (-13, 26))
        make_face()
        with BuildLine():
            Line((-27, 98), (-27, 96))
            Line((-27, 96), (-19.5, 96))
            ThreePointArc((-19.5, 96), (-16.3180194847, 94.6819805153), (-15, 91.5))
            Line((-15, 91.5), (-15, 84))
            Line((-15, 84), (-13, 84))
            Line((-13, 84), (-13, 91.5))
            ThreePointArc((-13, 91.5), (-14.9038059223, 96.0961940777), (-19.5, 98))
            Line((-19.5, 98), (-27, 98))
        make_face()
    extrude(amount=F10_DEPTH)

    # F11 (on face) → F12 (join)
    with BuildSketch(Plane.XY.offset(17.2)):
        Polygon((-200, 63.6602540378), (-200, 46.3397459622), (-188.1, 39.4692777588), (-188.1, 40.3930381895), (-199.2, 46.8016261775), (-199.2, 63.1983738225), (-188.1, 69.6069618105), (-188.1, 70.5307222412), align=None)
        Polygon((-181.9, 40.3930381895), (-181.9, 39.4692777588), (-170, 46.3397459622), (-170, 63.6602540378), (-181.9, 70.5307222412), (-181.9, 69.6069618105), (-170.8, 63.1983738225), (-170.8, 46.8016261775), align=None)
    extrude(amount=F12_DEPTH)

    # F13 (on face) → F14 (cut)
    with BuildSketch(Plane.YZ.offset(-170)):
        with BuildLine():
            Line((54.0046448451, 17.2), (55.9953551549, 17.2))
            ThreePointArc((55.9953551549, 17.2), (55, 18.1037289471), (54.0046448451, 17.2))
        make_face()
    extrude(amount=-F14_DEPTH, mode=Mode.SUBTRACT)


solid = f1.part
